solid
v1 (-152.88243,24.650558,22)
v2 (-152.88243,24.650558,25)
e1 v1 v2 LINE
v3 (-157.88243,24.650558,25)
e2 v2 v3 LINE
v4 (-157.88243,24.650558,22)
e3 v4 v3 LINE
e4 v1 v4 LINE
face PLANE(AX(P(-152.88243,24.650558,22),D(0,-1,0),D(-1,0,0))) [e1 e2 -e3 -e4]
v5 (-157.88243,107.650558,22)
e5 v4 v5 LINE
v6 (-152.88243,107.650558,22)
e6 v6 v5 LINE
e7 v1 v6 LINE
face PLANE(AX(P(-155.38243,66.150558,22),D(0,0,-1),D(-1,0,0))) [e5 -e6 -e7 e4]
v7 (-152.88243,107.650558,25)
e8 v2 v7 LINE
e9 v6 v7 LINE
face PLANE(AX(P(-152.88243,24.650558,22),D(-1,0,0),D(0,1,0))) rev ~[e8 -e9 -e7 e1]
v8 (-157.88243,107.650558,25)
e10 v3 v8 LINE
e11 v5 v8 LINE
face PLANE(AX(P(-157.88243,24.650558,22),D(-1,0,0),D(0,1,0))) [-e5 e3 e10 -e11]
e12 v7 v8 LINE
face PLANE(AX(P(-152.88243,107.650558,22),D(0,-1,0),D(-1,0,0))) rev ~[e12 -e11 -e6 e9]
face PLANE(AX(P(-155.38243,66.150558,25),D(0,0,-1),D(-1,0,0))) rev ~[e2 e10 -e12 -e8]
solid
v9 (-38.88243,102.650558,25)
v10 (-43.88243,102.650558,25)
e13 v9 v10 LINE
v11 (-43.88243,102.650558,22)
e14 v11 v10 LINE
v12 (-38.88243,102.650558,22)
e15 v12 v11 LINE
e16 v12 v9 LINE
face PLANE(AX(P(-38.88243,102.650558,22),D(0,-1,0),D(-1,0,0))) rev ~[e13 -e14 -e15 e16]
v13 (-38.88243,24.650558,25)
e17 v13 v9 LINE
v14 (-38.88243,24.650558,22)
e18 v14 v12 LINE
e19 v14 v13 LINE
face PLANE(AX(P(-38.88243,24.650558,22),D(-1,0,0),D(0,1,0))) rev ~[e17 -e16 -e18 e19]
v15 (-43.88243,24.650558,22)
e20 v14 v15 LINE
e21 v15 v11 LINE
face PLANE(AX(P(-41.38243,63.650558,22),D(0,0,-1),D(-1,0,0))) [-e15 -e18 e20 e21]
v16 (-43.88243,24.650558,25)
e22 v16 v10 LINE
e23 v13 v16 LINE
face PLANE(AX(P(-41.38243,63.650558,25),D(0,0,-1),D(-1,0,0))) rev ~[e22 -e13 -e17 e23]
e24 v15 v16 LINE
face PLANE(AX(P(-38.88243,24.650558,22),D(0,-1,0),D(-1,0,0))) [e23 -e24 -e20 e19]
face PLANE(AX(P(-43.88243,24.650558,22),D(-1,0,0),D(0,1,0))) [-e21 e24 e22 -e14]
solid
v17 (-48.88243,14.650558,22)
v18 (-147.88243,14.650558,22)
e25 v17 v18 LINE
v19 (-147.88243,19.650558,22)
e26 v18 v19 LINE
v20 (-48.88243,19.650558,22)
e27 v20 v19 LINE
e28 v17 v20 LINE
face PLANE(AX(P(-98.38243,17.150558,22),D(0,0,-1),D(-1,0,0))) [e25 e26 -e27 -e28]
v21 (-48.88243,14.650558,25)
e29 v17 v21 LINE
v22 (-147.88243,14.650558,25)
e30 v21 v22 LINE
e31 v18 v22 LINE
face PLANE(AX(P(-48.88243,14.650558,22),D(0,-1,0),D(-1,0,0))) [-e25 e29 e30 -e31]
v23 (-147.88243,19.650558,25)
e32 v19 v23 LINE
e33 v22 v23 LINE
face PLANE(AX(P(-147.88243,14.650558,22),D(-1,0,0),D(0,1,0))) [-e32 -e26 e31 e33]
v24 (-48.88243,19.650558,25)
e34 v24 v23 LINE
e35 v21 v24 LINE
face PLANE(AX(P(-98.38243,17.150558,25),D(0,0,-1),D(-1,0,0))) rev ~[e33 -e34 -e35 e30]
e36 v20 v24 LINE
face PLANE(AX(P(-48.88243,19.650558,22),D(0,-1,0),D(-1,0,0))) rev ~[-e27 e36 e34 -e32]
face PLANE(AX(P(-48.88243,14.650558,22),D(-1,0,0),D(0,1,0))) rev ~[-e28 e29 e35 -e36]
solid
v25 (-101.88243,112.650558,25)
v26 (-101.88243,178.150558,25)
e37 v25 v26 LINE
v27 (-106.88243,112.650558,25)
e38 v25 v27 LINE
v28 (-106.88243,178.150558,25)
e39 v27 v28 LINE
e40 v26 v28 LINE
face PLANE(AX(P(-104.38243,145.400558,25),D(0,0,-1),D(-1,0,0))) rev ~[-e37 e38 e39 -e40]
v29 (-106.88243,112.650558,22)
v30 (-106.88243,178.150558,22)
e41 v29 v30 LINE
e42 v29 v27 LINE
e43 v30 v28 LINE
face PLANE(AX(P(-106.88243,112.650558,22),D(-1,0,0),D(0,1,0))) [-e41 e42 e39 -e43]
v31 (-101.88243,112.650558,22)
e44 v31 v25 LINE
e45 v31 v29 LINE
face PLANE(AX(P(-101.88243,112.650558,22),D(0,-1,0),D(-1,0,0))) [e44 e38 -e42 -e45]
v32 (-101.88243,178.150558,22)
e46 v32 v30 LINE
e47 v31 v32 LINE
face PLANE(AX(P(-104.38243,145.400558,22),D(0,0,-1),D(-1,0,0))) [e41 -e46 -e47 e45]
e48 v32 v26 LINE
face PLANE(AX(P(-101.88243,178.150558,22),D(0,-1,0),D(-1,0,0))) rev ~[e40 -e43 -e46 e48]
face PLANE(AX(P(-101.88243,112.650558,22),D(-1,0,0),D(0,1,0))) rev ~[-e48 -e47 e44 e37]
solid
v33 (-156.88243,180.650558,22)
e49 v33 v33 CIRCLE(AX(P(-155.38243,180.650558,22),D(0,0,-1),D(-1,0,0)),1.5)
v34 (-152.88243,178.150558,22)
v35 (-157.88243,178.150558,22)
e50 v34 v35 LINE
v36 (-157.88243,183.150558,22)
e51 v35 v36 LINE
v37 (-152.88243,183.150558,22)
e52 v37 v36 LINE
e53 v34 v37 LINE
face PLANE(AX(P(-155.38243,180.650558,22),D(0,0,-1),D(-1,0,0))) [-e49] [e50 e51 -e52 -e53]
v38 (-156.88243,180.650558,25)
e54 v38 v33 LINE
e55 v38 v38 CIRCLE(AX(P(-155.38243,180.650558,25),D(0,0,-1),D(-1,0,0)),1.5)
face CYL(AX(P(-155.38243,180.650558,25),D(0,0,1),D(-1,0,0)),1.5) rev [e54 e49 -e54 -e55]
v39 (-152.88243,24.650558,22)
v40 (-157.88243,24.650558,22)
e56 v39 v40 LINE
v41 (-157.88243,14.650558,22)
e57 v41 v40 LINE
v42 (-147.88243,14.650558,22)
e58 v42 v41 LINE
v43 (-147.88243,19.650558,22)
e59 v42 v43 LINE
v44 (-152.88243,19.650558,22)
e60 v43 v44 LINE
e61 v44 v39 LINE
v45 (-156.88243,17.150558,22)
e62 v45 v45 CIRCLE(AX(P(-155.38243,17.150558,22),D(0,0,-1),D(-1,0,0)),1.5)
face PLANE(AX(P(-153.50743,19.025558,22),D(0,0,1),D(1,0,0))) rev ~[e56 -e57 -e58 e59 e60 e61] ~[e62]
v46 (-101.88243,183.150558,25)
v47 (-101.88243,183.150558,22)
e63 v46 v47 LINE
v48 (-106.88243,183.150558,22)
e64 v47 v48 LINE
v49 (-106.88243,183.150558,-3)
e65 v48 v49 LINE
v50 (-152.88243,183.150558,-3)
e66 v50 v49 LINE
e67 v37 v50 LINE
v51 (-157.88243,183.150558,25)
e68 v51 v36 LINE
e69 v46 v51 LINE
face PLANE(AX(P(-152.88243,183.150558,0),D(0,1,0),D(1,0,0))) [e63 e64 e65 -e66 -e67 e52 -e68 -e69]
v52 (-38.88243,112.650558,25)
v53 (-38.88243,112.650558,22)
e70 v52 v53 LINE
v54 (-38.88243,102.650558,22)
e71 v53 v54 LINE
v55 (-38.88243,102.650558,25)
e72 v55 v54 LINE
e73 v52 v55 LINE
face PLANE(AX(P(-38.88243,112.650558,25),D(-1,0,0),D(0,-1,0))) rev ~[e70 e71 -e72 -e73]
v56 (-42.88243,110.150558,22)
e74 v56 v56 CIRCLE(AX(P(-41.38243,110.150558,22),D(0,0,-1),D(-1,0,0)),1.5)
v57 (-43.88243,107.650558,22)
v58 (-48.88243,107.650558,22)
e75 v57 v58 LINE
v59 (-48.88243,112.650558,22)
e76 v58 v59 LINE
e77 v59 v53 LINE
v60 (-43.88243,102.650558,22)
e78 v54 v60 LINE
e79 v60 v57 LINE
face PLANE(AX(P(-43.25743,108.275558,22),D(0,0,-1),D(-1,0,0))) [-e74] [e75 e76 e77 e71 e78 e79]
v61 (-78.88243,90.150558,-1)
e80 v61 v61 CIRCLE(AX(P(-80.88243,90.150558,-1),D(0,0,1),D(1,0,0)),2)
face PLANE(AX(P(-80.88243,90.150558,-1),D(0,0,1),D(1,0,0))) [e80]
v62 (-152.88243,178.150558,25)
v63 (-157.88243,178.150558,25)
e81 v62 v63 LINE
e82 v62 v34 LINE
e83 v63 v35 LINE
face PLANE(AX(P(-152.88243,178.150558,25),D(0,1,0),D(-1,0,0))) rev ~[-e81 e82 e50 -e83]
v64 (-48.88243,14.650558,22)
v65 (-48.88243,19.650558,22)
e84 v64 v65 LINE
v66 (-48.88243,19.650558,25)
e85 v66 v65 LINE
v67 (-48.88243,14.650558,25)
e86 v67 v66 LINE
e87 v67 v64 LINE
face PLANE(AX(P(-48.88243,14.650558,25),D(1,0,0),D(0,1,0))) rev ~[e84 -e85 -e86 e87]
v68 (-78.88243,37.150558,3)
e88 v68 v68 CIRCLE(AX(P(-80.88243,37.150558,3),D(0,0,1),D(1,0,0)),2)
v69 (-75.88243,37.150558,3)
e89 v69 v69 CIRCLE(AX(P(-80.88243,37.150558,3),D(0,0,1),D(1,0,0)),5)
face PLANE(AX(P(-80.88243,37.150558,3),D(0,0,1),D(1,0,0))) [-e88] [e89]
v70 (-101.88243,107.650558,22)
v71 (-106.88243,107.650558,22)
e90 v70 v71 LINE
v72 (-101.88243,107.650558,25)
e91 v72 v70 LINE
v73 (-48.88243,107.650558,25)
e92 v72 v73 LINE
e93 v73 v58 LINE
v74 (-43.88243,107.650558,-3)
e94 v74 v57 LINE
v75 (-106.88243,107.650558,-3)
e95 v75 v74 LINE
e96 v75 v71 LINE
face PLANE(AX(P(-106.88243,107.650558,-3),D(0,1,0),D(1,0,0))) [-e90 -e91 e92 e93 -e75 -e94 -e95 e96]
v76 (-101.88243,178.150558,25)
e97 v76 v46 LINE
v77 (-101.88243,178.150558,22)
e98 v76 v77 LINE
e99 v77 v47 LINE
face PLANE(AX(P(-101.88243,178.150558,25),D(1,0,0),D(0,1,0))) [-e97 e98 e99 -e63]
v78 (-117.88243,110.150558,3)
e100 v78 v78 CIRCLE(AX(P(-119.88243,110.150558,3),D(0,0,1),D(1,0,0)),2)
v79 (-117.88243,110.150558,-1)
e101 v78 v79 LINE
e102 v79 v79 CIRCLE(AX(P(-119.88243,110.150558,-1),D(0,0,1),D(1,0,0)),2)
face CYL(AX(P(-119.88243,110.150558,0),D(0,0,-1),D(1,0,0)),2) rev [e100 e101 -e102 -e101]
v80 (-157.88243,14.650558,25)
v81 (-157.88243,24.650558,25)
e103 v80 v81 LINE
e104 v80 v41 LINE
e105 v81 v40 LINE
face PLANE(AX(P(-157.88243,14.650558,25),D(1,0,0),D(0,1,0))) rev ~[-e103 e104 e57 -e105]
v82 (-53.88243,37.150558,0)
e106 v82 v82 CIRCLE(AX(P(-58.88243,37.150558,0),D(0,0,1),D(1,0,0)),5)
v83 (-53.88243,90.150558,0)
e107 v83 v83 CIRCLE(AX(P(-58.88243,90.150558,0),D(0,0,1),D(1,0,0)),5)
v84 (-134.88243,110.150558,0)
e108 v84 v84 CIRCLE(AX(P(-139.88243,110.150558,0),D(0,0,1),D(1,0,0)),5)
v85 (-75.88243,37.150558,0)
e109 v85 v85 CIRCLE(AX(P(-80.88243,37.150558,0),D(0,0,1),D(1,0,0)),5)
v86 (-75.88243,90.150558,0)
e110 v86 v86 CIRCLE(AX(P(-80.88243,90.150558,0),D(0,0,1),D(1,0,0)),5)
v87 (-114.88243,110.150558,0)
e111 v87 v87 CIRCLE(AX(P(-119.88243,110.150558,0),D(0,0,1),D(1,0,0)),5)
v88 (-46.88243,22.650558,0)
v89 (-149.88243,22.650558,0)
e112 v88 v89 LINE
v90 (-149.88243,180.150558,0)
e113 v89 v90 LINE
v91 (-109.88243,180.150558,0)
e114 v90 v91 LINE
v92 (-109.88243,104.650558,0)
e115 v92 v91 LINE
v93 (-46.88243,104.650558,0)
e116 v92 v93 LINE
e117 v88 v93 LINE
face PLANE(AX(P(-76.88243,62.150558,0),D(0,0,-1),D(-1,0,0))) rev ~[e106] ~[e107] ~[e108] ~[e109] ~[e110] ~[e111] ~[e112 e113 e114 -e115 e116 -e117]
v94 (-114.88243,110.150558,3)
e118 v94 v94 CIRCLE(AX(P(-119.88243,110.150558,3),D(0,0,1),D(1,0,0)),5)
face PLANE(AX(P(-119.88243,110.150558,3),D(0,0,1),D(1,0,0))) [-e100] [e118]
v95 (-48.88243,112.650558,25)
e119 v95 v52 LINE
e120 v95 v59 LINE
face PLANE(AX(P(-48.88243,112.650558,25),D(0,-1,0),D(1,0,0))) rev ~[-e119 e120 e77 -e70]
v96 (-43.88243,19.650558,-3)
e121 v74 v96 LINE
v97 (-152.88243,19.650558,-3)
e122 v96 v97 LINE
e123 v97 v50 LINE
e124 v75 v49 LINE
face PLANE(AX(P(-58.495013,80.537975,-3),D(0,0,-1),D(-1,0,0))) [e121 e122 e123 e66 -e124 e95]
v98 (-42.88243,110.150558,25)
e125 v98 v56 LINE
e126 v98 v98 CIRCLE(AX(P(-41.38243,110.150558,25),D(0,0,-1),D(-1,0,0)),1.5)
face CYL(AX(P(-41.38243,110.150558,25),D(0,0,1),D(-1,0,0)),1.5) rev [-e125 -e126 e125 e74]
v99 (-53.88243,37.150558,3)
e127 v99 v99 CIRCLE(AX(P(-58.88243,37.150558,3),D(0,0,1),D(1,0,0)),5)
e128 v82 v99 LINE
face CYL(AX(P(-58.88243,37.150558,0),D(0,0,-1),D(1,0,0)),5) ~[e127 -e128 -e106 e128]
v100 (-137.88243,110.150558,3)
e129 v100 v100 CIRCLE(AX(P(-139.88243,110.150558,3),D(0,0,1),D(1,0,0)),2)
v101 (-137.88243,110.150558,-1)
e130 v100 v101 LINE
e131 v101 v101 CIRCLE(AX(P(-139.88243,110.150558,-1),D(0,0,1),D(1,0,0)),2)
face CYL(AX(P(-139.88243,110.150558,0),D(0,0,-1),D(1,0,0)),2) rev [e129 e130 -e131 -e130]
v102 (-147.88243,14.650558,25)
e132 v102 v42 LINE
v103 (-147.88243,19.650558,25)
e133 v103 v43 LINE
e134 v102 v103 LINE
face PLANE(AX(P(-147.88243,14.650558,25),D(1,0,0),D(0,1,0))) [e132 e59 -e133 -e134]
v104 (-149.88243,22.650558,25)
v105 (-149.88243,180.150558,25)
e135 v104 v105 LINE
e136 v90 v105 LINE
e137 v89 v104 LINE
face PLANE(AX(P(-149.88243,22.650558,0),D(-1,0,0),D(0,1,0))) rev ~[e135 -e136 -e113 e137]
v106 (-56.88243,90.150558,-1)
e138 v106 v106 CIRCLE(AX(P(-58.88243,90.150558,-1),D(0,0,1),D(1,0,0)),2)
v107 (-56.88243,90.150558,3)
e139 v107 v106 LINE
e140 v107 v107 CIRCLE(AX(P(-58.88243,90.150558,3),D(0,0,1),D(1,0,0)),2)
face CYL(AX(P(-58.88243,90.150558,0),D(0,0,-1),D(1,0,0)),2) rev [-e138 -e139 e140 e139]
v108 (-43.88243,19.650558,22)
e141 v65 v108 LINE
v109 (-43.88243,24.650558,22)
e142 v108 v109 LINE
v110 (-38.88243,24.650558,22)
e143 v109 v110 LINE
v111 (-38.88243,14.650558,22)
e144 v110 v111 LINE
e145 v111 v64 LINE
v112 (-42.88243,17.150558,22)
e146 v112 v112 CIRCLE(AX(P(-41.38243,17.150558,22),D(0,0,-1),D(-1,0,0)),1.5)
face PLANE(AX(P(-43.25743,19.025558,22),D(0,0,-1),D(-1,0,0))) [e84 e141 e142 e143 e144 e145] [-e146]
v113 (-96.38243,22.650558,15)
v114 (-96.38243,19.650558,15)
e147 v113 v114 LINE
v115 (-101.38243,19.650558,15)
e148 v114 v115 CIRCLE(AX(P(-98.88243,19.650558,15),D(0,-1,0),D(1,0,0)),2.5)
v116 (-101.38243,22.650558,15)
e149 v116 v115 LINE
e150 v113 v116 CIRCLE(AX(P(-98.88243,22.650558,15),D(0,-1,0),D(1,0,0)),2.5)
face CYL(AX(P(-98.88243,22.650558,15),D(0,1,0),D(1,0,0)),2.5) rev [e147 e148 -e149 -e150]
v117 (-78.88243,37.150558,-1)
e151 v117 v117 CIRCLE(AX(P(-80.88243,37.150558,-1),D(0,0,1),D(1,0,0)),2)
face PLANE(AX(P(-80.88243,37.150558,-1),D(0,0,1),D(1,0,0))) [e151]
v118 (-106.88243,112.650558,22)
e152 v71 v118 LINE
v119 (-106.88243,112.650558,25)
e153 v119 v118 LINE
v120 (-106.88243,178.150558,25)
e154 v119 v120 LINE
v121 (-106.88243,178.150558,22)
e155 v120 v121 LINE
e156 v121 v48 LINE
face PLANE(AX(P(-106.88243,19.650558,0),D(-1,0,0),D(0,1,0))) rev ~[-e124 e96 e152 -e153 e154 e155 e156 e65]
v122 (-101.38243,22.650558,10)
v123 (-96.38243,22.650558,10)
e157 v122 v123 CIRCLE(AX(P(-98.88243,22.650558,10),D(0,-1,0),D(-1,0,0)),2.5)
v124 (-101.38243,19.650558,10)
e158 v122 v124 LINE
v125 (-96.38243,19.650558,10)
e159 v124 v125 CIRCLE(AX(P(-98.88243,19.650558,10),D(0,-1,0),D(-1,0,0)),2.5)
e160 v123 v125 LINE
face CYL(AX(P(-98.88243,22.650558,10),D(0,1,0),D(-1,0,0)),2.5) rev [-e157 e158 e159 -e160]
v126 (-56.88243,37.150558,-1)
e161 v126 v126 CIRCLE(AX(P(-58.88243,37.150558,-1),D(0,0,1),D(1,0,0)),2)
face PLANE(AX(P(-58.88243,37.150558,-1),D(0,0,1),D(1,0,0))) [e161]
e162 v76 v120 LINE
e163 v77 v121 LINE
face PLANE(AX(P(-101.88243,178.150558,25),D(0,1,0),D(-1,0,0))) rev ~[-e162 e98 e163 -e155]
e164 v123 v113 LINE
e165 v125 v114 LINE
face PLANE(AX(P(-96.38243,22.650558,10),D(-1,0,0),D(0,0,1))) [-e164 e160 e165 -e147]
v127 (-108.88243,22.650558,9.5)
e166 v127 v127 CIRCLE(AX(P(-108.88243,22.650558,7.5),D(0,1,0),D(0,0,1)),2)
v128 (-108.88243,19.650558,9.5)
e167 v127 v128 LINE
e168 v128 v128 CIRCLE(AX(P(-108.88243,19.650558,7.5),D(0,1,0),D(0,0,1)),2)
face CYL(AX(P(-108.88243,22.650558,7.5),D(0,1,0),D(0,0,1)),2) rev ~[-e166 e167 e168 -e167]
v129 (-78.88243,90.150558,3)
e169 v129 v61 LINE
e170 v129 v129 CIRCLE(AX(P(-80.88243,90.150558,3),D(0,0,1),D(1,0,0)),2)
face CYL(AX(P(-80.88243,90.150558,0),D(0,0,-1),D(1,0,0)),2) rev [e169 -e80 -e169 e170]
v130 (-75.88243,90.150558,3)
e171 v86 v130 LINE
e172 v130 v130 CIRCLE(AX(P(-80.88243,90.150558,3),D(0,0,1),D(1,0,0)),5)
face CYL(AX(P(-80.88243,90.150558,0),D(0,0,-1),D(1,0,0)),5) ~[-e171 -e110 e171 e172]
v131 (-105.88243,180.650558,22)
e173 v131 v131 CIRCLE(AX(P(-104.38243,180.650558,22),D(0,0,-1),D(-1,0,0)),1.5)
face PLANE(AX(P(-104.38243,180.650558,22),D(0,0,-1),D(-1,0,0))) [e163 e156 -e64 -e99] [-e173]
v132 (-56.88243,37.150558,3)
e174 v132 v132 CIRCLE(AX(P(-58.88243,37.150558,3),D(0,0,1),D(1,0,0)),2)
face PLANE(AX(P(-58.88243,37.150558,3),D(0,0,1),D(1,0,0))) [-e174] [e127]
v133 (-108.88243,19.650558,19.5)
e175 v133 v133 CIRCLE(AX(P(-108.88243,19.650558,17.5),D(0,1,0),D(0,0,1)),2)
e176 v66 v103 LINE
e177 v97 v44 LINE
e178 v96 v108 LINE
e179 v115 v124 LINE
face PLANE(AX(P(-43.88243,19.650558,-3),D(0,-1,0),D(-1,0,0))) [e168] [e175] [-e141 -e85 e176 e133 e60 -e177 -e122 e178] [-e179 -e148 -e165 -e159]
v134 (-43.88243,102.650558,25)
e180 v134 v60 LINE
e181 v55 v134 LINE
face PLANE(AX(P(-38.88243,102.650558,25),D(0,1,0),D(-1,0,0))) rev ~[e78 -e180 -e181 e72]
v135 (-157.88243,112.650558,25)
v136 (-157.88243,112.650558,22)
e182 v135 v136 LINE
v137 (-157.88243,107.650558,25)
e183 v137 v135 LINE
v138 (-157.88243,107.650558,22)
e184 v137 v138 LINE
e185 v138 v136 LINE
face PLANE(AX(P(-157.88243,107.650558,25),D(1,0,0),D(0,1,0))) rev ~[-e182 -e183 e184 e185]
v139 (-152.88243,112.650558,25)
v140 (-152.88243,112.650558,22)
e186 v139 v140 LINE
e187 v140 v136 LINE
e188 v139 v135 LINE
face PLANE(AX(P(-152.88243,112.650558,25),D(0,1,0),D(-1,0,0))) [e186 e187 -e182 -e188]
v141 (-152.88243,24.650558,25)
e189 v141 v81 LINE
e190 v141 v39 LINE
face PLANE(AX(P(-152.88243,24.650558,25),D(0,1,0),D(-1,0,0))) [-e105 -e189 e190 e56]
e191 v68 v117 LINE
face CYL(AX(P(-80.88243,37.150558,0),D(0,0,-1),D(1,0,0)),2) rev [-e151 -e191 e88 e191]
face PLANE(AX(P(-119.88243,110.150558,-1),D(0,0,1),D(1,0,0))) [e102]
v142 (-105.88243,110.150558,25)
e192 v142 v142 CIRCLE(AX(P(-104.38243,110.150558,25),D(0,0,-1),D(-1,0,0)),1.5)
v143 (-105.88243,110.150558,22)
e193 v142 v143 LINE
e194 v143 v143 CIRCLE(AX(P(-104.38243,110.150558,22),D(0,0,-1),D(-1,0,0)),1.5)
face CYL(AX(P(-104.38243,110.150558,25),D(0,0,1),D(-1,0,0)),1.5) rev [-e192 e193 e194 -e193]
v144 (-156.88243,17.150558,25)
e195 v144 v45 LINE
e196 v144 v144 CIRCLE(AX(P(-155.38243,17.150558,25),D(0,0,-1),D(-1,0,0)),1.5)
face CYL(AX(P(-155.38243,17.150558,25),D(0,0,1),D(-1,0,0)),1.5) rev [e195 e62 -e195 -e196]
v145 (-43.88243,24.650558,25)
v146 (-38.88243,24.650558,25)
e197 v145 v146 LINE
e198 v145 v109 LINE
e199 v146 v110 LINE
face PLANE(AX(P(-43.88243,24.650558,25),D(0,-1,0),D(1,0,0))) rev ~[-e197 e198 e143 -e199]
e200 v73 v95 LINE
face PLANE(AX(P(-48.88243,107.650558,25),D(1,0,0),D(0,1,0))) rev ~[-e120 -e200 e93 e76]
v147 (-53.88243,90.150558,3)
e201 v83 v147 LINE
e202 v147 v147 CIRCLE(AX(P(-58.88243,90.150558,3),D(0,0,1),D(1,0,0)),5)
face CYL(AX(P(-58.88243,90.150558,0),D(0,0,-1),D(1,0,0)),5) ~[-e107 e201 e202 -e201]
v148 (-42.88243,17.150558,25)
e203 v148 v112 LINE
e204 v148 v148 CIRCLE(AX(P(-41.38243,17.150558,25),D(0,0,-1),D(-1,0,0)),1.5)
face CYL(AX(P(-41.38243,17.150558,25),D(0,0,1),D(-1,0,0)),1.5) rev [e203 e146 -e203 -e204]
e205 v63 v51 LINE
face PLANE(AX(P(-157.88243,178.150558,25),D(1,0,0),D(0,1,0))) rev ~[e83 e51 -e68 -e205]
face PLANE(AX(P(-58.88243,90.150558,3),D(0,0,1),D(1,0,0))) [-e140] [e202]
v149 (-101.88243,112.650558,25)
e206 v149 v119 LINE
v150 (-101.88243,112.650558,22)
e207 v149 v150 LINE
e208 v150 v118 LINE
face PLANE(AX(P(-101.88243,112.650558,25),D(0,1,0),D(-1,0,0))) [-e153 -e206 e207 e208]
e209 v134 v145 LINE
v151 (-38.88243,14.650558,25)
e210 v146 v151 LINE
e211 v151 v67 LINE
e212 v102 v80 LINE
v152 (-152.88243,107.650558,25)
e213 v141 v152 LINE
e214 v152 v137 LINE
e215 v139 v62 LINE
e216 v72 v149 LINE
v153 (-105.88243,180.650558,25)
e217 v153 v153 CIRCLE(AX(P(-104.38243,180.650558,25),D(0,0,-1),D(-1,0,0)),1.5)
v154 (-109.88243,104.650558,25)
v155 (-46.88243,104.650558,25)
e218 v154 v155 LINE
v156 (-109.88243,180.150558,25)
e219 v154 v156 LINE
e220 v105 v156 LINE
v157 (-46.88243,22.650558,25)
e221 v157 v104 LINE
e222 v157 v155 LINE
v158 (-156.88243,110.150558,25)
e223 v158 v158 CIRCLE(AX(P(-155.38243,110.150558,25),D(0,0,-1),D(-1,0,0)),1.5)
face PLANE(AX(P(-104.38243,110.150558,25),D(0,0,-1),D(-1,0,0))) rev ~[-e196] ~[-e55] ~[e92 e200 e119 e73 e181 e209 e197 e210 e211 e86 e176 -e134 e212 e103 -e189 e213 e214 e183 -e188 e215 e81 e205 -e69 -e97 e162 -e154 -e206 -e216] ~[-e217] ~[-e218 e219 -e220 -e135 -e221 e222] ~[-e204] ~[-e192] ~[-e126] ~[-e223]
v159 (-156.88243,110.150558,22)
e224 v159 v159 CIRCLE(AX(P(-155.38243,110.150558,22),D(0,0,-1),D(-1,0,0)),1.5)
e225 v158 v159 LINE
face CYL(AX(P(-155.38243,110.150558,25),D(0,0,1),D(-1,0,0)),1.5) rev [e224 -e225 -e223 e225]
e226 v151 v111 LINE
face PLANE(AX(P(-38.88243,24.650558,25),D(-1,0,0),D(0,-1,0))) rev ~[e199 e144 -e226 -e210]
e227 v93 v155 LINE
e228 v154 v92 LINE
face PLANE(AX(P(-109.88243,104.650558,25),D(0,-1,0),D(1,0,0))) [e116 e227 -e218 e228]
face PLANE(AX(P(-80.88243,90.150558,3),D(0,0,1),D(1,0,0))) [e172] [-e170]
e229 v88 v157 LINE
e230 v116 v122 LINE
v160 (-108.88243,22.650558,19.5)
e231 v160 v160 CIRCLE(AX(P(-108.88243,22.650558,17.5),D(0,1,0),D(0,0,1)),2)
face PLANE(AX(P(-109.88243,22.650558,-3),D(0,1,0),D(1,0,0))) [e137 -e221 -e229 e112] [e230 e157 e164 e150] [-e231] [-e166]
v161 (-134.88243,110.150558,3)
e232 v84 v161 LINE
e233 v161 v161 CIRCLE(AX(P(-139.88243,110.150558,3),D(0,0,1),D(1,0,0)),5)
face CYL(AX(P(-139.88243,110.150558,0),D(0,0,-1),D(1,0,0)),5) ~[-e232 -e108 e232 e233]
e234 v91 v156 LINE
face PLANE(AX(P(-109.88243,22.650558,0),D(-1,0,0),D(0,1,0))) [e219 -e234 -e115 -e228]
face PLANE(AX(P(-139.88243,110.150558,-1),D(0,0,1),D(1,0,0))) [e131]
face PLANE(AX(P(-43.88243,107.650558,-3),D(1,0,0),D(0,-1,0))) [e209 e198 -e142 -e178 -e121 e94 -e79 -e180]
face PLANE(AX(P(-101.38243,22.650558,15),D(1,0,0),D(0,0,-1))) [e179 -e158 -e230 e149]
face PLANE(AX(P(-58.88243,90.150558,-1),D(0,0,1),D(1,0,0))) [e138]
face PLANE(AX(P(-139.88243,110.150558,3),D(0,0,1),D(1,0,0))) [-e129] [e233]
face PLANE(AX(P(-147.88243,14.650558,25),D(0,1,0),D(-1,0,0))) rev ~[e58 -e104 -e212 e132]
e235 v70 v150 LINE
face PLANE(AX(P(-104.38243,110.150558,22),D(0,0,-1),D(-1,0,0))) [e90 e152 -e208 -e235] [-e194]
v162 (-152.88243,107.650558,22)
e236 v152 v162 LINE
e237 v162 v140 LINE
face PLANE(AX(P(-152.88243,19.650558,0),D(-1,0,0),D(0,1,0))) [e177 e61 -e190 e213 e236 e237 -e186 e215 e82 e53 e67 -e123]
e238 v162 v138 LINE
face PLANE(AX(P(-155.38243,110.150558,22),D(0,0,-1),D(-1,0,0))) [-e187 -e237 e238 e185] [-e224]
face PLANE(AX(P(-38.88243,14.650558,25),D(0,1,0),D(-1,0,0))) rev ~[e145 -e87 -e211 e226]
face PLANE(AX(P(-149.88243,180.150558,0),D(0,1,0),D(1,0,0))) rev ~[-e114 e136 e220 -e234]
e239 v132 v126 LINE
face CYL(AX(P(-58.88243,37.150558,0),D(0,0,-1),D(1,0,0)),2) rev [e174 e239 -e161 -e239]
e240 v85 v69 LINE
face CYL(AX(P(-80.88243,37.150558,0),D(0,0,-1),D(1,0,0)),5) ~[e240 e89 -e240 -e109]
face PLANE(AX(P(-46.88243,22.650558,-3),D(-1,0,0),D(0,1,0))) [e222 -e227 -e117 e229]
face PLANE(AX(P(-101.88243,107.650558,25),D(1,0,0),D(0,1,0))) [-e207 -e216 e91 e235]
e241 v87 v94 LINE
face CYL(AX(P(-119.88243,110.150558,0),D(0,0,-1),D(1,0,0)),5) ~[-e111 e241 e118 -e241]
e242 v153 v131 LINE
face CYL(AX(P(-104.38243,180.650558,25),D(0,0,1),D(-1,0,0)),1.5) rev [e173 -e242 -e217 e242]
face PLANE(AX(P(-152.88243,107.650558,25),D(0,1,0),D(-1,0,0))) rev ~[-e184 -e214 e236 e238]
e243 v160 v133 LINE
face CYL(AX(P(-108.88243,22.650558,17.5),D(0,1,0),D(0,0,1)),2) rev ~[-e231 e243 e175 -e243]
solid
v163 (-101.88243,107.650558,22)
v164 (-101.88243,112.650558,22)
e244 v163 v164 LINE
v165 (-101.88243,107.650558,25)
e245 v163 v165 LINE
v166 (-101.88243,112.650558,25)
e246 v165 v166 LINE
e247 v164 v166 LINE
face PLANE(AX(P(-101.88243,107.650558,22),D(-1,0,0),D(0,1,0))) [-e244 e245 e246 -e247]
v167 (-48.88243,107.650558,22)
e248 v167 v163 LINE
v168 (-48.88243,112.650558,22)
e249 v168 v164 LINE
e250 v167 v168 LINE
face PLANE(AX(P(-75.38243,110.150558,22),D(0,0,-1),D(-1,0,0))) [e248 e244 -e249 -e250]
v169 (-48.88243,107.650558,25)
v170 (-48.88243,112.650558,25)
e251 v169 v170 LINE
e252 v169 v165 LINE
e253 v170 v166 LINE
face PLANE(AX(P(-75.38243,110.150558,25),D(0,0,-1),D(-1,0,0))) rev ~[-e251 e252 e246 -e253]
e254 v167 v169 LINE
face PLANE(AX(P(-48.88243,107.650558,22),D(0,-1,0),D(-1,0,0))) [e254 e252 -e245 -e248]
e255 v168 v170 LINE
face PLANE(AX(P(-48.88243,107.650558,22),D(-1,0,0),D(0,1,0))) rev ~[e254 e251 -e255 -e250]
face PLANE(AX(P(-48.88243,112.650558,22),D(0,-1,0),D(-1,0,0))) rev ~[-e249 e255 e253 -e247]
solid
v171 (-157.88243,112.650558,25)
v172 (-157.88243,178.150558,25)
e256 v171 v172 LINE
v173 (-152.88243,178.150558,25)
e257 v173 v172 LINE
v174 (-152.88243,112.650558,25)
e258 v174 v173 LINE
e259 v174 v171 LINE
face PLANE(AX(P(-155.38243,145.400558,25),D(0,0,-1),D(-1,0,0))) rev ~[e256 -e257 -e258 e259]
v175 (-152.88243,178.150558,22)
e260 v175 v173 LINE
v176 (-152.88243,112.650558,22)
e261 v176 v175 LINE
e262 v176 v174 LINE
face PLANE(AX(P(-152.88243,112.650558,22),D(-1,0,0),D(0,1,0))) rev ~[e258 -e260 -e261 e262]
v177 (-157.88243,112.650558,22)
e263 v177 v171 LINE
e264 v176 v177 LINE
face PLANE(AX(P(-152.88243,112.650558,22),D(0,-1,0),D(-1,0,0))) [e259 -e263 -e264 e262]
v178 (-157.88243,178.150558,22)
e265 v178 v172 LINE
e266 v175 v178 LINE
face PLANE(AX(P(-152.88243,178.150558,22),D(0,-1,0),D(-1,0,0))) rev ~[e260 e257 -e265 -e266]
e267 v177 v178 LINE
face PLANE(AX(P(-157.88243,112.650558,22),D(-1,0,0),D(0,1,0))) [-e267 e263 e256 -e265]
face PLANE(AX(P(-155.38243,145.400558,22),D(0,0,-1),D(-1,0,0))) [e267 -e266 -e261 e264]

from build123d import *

# Parameters (mm, degrees)
SKICA1_W                   = 40
SKICA1_H                   = 152
P_IDAT_VYSUNUT_M1_DEPTH    = 3
SKICA2_W                   = 46
SKICA2_H                   = 163.5
P_IDAT_VYSUNUT_M2_DEPTH    = 3
SKICA3_W                   = 46
SKICA3_H                   = 163.5
SKICA3_W_2                 = 40
SKICA3_H_2                 = 157.5
P_IDAT_VYSUNUT_M3_DEPTH    = 25
SKICA6_W                   = 60
SKICA6_H                   = 85
P_IDAT_VYSUNUT_M6_DEPTH    = 3
P_IDAT_VYSUNUT_M8_DEPTH    = 28
SKICA8_W                   = 3
SKICA8_H                   = 82
ODEBRAT_VYSUNUT_M2_DEPTH   = 25
SKICA4_R                   = 5
SKICA4_R_2                 = 2
P_IDAT_VYSUNUT_M4_DEPTH    = 3
SKICA10_R                  = 5
SKICA10_R_2                = 2
P_IDAT_VYSUNUT_M11_DEPTH   = 3
ODEBRAT_START              = -1
SKICA5_R                   = 2
ODEBRAT_VYSUNUT_M1_DEPTH   = 1
SKICA11_R                  = 2
ODEBRAT_VYSUNUT_M3_DEPTH   = 1
SKICA12_R                  = 2
ODEBRAT_VYSUNUT_M4_DEPTH   = 3
SKICA16_W                  = 5
SKICA16_H                  = 5
SKICA16_R                  = 1.5
P_IDAT_VYSUNUT_M13_DEPTH   = 3
SKICA17_W                  = 5
SKICA17_H                  = 65.5
P_IDAT_VYSUNUT_M19_DEPTH   = 3
SKICA17_W_2                = 53
SKICA17_H_2                = 5
P_IDAT_VYSUNUT_M19_2_DEPTH = 3
SKICA17_H_3                = 78
P_IDAT_VYSUNUT_M19_3_DEPTH = 3
P_IDAT_VYSUNUT_M19_4_DEPTH = 3
SKICA17_H_4                = 83
P_IDAT_VYSUNUT_M19_5_DEPTH = 3
SKICA17_W_3                = 99
P_IDAT_VYSUNUT_M19_6_DEPTH = 3


with BuildPart() as part:
    # Skica1 → Přidat vysunutím1 (new body)
    with BuildSketch(Plane.XY):
        with Locations((-129.882430403, 98.650557891)):
            Rectangle(SKICA1_W, SKICA1_H)
        Polygon((-149.882430403, 180.150557891), (-145.782430403, 180.150557891), (-113.782430403, 180.150557891), (-109.882430403, 180.150557891), (-109.882430403, 174.650557891), (-149.882430403, 174.650557891), align=None)
    extrude(amount=-P_IDAT_VYSUNUT_M1_DEPTH)



with BuildPart() as body_2:
    # Skica2 → Přidat vysunutím2 (new body)
    with BuildSketch(Plane.XY):
        with Locations((-129.882430403, 101.400557891)):
            Rectangle(SKICA2_W, SKICA2_H)
    extrude(amount=-P_IDAT_VYSUNUT_M2_DEPTH)


with BuildPart() as part_1:
    add(part.part)

    add(body_2.part)  # Přidat vysunutím3 merges body 2
    # Skica3 → Přidat vysunutím3 (add)
    with BuildSketch(Plane.XY):
        with Locations((-129.882430403, 101.400557891)):
            Rectangle(SKICA3_W, SKICA3_H)
        with Locations((-129.882430403, 101.400557891)):
            Rectangle(SKICA3_W_2, SKICA3_H_2, mode=Mode.SUBTRACT)
    extrude(amount=P_IDAT_VYSUNUT_M3_DEPTH)

    # Skica6 → Přidat vysunutím6 (add)
    with BuildSketch(Plane(origin=(0, 0, -3), x_dir=(-1, 0, 0), z_dir=(0, 0, -1))):
        with Locations((76.882430403, 62.150557891)):
            Rectangle(SKICA6_W, SKICA6_H)
    extrude(amount=-P_IDAT_VYSUNUT_M6_DEPTH)

    # Skica7 → Přidat vysunutím8 (add)
    with BuildSketch(Plane(origin=(0, 0, -3), x_dir=(-1, 0, 0), z_dir=(0, 0, -1))):
        Polygon((106.882430403, 104.650557891), (106.882430403, 107.650557891), (43.882430403, 107.650557891), (43.882430403, 19.650557891), (46.882430403, 19.650557891), (46.882430403, 22.650557891), (46.882430403, 104.650557891), align=None)
        Polygon((106.882430403, 19.650557891), (109.882430403, 22.650557891), (46.882430403, 22.650557891), (46.882430403, 19.650557891), align=None)
    extrude(amount=-P_IDAT_VYSUNUT_M8_DEPTH)

    # Skica8 → Odebrat vysunutím2 (cut)
    with BuildSketch(Plane.XY.offset(25)):
        with Locations((-108.382430403, 63.650557891)):
            Rectangle(SKICA8_W, SKICA8_H)
    extrude(amount=-ODEBRAT_VYSUNUT_M2_DEPTH, mode=Mode.SUBTRACT)

    # Skica4 → Přidat vysunutím4 (add)
    # profile 1 of 2: a face of its own
    with BuildSketch(Plane.XY):
        with Locations((-119.882430403, 110.150557891)):
            Circle(SKICA4_R)
        with Locations((-119.882430403, 110.150557891)):
            Circle(SKICA4_R_2, mode=Mode.SUBTRACT)
    # profile 2 of 2: a face of its own
    with BuildSketch(Plane.XY):
        with Locations((-139.882430403, 110.150557891)):
            Circle(SKICA4_R)
        with Locations((-139.882430403, 110.150557891)):
            Circle(SKICA4_R_2, mode=Mode.SUBTRACT)
    extrude(amount=P_IDAT_VYSUNUT_M4_DEPTH)

    # Skica10 → Přidat vysunutím11 (add)
    # profile 1 of 4: a face of its own
    with BuildSketch(Plane.XY):
        with Locations((-80.882430403, 90.150557891)):
            Circle(SKICA10_R)
        with Locations((-80.882430403, 90.150557891)):
            Circle(SKICA10_R_2, mode=Mode.SUBTRACT)
    # profile 2 of 4: a face of its own
    with BuildSketch(Plane.XY):
        with Locations((-58.882430403, 90.150557891)):
            Circle(SKICA10_R)
        with Locations((-58.882430403, 90.150557891)):
            Circle(SKICA10_R_2, mode=Mode.SUBTRACT)
    # profile 3 of 4: a face of its own
    with BuildSketch(Plane.XY):
        with Locations((-58.882430403, 37.150557891)):
            Circle(SKICA10_R)
        with Locations((-58.882430403, 37.150557891)):
            Circle(SKICA10_R_2, mode=Mode.SUBTRACT)
    # profile 4 of 4: a face of its own
    with BuildSketch(Plane.XY):
        with Locations((-80.882430403, 37.150557891)):
            Circle(SKICA10_R)
        with Locations((-80.882430403, 37.150557891)):
            Circle(SKICA10_R_2, mode=Mode.SUBTRACT)
    extrude(amount=P_IDAT_VYSUNUT_M11_DEPTH)

    # Skica5 → Odebrat vysunutím1 (cut)
    with BuildSketch(Plane.XY.offset(ODEBRAT_START)):
        with Locations((-139.882430403, 110.150557891)):
            Circle(SKICA5_R)
        with Locations((-119.882430403, 110.150557891)):
            Circle(SKICA5_R)
    extrude(amount=ODEBRAT_VYSUNUT_M1_DEPTH, mode=Mode.SUBTRACT)

    # Skica11 → Odebrat vysunutím3 (cut)
    with BuildSketch(Plane.XY.offset(ODEBRAT_START)):
        with Locations((-80.882430403, 90.150557891)):
            Circle(SKICA11_R)
        with Locations((-58.882430403, 90.150557891)):
            Circle(SKICA11_R)
        with Locations((-80.882430403, 37.150557891)):
            Circle(SKICA11_R)
        with Locations((-58.882430403, 37.150557891)):
            Circle(SKICA11_R)
    extrude(amount=ODEBRAT_VYSUNUT_M3_DEPTH, mode=Mode.SUBTRACT)

    # Skica12 → Odebrat vysunutím4 (cut)
    with BuildSketch(Plane(origin=(0, 22.650557891, 0), x_dir=(1, 0, 0), z_dir=(0, 1, 0))):
        with Locations(Location((-108.882430403, -17.5, 0), (0, 0, 270))):
            Circle(SKICA12_R)
        with Locations(Location((-108.882430403, -7.5, 0), (0, 0, 270))):
            Circle(SKICA12_R)
        with BuildLine():
            Line((-96.382430403, -10), (-96.382430403, -15))
            ThreePointArc((-96.382430403, -15), (-98.882430403, -17.5), (-101.382430403, -15))
            Line((-101.382430403, -15), (-101.382430403, -10))
            ThreePointArc((-101.382430403, -10), (-98.882430403, -7.5), (-96.382430403, -10))
        make_face()
    extrude(amount=-ODEBRAT_VYSUNUT_M4_DEPTH, mode=Mode.SUBTRACT)

    # Skica16 → Přidat vysunutím13 (add)
    # profile 1 of 7: a face of its own
    with BuildSketch(Plane(origin=(0, 0, 25), x_dir=(-1, 0, 0), z_dir=(0, 0, -1))):
        with Locations((104.382430403, 110.150557891)):
            Rectangle(SKICA16_W, SKICA16_H)
        with Locations((104.382430403, 110.150557891)):
            Circle(SKICA16_R, mode=Mode.SUBTRACT)
    # profile 2 of 7: a face of its own
    with BuildSketch(Plane(origin=(0, 0, 25), x_dir=(-1, 0, 0), z_dir=(0, 0, -1))):
        Polygon((43.882430403, 112.650557891), (38.882430403, 112.650557891), (38.882430403, 107.650557891), (38.882430403, 102.650557891), (43.882430403, 102.650557891), (43.882430403, 107.650557891), (48.882430403, 107.650557891), (48.882430403, 112.650557891), align=None)
        with Locations((41.382430403, 110.150557891)):
            Circle(SKICA16_R, mode=Mode.SUBTRACT)
    # profile 3 of 7: a face of its own
    with BuildSketch(Plane(origin=(0, 0, 25), x_dir=(-1, 0, 0), z_dir=(0, 0, -1))):
        Polygon((38.882430403, 14.650557891), (43.882430403, 14.650557891), (48.882430403, 14.650557891), (48.882430403, 19.650557891), (43.882430403, 19.650557891), (43.882430403, 24.650557891), (38.882430403, 24.650557891), (38.882430403, 19.650557891), align=None)
        with Locations((41.382430403, 17.150557891)):
            Circle(SKICA16_R, mode=Mode.SUBTRACT)
    # profile 4 of 7: a face of its own
    with BuildSketch(Plane(origin=(0, 0, 25), x_dir=(-1, 0, 0), z_dir=(0, 0, -1))):
        Polygon((157.882430403, 14.650557891), (152.882430403, 14.650557891), (147.882430403, 14.650557891), (147.882430403, 19.650557891), (152.882430403, 19.650557891), (152.882430403, 24.650557891), (157.882430403, 24.650557891), (157.882430403, 19.650557891), align=None)
        with Locations((155.382430403, 17.150557891)):
            Circle(SKICA16_R, mode=Mode.SUBTRACT)
    # profile 5 of 7: a face of its own
    with BuildSketch(Plane(origin=(0, 0, 25), x_dir=(-1, 0, 0), z_dir=(0, 0, -1))):
        with Locations((104.382430403, 180.650557891)):
            Rectangle(SKICA16_W, SKICA16_H)
        with Locations((104.382430403, 180.650557891)):
            Circle(SKICA16_R, mode=Mode.SUBTRACT)
    # profile 6 of 7: a face of its own
    with BuildSketch(Plane(origin=(0, 0, 25), x_dir=(-1, 0, 0), z_dir=(0, 0, -1))):
        with Locations((155.382430403, 180.650557891)):
            Rectangle(SKICA16_W, SKICA16_H)
        with Locations((155.382430403, 180.650557891)):
            Circle(SKICA16_R, mode=Mode.SUBTRACT)
    # profile 7 of 7: a face of its own
    with BuildSketch(Plane(origin=(0, 0, 25), x_dir=(-1, 0, 0), z_dir=(0, 0, -1))):
        with Locations((155.382430403, 110.150557891)):
            Rectangle(SKICA16_W, SKICA16_H)
        with Locations((155.382430403, 110.150557891)):
            Circle(SKICA16_R, mode=Mode.SUBTRACT)
    extrude(amount=P_IDAT_VYSUNUT_M13_DEPTH)


with BuildPart() as body_2_2:
    # Skica17 → Přidat vysunutím19 (new body)
    with BuildSketch(Plane(origin=(0, 0, 22), x_dir=(-1, 0, 0), z_dir=(0, 0, -1))):
        with Locations((104.382430403, 145.400557891)):
            Rectangle(SKICA17_W, SKICA17_H)
    extrude(amount=-P_IDAT_VYSUNUT_M19_DEPTH)


with BuildPart() as body_3:
    # Skica17 → P_idat vysunut_m19 2 (new body)
    with BuildSketch(Plane(origin=(0, 0, 22), x_dir=(-1, 0, 0), z_dir=(0, 0, -1))):
        with Locations((75.382430403, 110.150557891)):
            Rectangle(SKICA17_W_2, SKICA17_H_2)
    extrude(amount=-P_IDAT_VYSUNUT_M19_2_DEPTH)


with BuildPart() as body_4:
    # Skica17 → P_idat vysunut_m19 3 (new body)
    with BuildSketch(Plane(origin=(0, 0, 22), x_dir=(-1, 0, 0), z_dir=(0, 0, -1))):
        with Locations((41.382430403, 63.650557891)):
            Rectangle(SKICA17_W, SKICA17_H_3)
    extrude(amount=-P_IDAT_VYSUNUT_M19_3_DEPTH)


with BuildPart() as body_5:
    # Skica17 → P_idat vysunut_m19 4 (new body)
    with BuildSketch(Plane(origin=(0, 0, 22), x_dir=(-1, 0, 0), z_dir=(0, 0, -1))):
        with Locations((155.382430403, 145.400557891)):
            Rectangle(SKICA17_W, SKICA17_H)
    extrude(amount=-P_IDAT_VYSUNUT_M19_4_DEPTH)


with BuildPart() as body_6:
    # Skica17 → P_idat vysunut_m19 5 (new body)
    with BuildSketch(Plane(origin=(0, 0, 22), x_dir=(-1, 0, 0), z_dir=(0, 0, -1))):
        with Locations((155.382430403, 66.150557891)):
            Rectangle(SKICA17_W, SKICA17_H_4)
    extrude(amount=-P_IDAT_VYSUNUT_M19_5_DEPTH)


with BuildPart() as body_7:
    # Skica17 → P_idat vysunut_m19 6 (new body)
    with BuildSketch(Plane(origin=(0, 0, 22), x_dir=(-1, 0, 0), z_dir=(0, 0, -1))):
        with Locations((98.382430403, 17.150557891)):
            Rectangle(SKICA17_W_3, SKICA17_H_2)
    extrude(amount=-P_IDAT_VYSUNUT_M19_6_DEPTH)


solid = Compound([part_1.part, body_2_2.part, body_3.part, body_4.part, body_5.part, body_6.part, body_7.part])
